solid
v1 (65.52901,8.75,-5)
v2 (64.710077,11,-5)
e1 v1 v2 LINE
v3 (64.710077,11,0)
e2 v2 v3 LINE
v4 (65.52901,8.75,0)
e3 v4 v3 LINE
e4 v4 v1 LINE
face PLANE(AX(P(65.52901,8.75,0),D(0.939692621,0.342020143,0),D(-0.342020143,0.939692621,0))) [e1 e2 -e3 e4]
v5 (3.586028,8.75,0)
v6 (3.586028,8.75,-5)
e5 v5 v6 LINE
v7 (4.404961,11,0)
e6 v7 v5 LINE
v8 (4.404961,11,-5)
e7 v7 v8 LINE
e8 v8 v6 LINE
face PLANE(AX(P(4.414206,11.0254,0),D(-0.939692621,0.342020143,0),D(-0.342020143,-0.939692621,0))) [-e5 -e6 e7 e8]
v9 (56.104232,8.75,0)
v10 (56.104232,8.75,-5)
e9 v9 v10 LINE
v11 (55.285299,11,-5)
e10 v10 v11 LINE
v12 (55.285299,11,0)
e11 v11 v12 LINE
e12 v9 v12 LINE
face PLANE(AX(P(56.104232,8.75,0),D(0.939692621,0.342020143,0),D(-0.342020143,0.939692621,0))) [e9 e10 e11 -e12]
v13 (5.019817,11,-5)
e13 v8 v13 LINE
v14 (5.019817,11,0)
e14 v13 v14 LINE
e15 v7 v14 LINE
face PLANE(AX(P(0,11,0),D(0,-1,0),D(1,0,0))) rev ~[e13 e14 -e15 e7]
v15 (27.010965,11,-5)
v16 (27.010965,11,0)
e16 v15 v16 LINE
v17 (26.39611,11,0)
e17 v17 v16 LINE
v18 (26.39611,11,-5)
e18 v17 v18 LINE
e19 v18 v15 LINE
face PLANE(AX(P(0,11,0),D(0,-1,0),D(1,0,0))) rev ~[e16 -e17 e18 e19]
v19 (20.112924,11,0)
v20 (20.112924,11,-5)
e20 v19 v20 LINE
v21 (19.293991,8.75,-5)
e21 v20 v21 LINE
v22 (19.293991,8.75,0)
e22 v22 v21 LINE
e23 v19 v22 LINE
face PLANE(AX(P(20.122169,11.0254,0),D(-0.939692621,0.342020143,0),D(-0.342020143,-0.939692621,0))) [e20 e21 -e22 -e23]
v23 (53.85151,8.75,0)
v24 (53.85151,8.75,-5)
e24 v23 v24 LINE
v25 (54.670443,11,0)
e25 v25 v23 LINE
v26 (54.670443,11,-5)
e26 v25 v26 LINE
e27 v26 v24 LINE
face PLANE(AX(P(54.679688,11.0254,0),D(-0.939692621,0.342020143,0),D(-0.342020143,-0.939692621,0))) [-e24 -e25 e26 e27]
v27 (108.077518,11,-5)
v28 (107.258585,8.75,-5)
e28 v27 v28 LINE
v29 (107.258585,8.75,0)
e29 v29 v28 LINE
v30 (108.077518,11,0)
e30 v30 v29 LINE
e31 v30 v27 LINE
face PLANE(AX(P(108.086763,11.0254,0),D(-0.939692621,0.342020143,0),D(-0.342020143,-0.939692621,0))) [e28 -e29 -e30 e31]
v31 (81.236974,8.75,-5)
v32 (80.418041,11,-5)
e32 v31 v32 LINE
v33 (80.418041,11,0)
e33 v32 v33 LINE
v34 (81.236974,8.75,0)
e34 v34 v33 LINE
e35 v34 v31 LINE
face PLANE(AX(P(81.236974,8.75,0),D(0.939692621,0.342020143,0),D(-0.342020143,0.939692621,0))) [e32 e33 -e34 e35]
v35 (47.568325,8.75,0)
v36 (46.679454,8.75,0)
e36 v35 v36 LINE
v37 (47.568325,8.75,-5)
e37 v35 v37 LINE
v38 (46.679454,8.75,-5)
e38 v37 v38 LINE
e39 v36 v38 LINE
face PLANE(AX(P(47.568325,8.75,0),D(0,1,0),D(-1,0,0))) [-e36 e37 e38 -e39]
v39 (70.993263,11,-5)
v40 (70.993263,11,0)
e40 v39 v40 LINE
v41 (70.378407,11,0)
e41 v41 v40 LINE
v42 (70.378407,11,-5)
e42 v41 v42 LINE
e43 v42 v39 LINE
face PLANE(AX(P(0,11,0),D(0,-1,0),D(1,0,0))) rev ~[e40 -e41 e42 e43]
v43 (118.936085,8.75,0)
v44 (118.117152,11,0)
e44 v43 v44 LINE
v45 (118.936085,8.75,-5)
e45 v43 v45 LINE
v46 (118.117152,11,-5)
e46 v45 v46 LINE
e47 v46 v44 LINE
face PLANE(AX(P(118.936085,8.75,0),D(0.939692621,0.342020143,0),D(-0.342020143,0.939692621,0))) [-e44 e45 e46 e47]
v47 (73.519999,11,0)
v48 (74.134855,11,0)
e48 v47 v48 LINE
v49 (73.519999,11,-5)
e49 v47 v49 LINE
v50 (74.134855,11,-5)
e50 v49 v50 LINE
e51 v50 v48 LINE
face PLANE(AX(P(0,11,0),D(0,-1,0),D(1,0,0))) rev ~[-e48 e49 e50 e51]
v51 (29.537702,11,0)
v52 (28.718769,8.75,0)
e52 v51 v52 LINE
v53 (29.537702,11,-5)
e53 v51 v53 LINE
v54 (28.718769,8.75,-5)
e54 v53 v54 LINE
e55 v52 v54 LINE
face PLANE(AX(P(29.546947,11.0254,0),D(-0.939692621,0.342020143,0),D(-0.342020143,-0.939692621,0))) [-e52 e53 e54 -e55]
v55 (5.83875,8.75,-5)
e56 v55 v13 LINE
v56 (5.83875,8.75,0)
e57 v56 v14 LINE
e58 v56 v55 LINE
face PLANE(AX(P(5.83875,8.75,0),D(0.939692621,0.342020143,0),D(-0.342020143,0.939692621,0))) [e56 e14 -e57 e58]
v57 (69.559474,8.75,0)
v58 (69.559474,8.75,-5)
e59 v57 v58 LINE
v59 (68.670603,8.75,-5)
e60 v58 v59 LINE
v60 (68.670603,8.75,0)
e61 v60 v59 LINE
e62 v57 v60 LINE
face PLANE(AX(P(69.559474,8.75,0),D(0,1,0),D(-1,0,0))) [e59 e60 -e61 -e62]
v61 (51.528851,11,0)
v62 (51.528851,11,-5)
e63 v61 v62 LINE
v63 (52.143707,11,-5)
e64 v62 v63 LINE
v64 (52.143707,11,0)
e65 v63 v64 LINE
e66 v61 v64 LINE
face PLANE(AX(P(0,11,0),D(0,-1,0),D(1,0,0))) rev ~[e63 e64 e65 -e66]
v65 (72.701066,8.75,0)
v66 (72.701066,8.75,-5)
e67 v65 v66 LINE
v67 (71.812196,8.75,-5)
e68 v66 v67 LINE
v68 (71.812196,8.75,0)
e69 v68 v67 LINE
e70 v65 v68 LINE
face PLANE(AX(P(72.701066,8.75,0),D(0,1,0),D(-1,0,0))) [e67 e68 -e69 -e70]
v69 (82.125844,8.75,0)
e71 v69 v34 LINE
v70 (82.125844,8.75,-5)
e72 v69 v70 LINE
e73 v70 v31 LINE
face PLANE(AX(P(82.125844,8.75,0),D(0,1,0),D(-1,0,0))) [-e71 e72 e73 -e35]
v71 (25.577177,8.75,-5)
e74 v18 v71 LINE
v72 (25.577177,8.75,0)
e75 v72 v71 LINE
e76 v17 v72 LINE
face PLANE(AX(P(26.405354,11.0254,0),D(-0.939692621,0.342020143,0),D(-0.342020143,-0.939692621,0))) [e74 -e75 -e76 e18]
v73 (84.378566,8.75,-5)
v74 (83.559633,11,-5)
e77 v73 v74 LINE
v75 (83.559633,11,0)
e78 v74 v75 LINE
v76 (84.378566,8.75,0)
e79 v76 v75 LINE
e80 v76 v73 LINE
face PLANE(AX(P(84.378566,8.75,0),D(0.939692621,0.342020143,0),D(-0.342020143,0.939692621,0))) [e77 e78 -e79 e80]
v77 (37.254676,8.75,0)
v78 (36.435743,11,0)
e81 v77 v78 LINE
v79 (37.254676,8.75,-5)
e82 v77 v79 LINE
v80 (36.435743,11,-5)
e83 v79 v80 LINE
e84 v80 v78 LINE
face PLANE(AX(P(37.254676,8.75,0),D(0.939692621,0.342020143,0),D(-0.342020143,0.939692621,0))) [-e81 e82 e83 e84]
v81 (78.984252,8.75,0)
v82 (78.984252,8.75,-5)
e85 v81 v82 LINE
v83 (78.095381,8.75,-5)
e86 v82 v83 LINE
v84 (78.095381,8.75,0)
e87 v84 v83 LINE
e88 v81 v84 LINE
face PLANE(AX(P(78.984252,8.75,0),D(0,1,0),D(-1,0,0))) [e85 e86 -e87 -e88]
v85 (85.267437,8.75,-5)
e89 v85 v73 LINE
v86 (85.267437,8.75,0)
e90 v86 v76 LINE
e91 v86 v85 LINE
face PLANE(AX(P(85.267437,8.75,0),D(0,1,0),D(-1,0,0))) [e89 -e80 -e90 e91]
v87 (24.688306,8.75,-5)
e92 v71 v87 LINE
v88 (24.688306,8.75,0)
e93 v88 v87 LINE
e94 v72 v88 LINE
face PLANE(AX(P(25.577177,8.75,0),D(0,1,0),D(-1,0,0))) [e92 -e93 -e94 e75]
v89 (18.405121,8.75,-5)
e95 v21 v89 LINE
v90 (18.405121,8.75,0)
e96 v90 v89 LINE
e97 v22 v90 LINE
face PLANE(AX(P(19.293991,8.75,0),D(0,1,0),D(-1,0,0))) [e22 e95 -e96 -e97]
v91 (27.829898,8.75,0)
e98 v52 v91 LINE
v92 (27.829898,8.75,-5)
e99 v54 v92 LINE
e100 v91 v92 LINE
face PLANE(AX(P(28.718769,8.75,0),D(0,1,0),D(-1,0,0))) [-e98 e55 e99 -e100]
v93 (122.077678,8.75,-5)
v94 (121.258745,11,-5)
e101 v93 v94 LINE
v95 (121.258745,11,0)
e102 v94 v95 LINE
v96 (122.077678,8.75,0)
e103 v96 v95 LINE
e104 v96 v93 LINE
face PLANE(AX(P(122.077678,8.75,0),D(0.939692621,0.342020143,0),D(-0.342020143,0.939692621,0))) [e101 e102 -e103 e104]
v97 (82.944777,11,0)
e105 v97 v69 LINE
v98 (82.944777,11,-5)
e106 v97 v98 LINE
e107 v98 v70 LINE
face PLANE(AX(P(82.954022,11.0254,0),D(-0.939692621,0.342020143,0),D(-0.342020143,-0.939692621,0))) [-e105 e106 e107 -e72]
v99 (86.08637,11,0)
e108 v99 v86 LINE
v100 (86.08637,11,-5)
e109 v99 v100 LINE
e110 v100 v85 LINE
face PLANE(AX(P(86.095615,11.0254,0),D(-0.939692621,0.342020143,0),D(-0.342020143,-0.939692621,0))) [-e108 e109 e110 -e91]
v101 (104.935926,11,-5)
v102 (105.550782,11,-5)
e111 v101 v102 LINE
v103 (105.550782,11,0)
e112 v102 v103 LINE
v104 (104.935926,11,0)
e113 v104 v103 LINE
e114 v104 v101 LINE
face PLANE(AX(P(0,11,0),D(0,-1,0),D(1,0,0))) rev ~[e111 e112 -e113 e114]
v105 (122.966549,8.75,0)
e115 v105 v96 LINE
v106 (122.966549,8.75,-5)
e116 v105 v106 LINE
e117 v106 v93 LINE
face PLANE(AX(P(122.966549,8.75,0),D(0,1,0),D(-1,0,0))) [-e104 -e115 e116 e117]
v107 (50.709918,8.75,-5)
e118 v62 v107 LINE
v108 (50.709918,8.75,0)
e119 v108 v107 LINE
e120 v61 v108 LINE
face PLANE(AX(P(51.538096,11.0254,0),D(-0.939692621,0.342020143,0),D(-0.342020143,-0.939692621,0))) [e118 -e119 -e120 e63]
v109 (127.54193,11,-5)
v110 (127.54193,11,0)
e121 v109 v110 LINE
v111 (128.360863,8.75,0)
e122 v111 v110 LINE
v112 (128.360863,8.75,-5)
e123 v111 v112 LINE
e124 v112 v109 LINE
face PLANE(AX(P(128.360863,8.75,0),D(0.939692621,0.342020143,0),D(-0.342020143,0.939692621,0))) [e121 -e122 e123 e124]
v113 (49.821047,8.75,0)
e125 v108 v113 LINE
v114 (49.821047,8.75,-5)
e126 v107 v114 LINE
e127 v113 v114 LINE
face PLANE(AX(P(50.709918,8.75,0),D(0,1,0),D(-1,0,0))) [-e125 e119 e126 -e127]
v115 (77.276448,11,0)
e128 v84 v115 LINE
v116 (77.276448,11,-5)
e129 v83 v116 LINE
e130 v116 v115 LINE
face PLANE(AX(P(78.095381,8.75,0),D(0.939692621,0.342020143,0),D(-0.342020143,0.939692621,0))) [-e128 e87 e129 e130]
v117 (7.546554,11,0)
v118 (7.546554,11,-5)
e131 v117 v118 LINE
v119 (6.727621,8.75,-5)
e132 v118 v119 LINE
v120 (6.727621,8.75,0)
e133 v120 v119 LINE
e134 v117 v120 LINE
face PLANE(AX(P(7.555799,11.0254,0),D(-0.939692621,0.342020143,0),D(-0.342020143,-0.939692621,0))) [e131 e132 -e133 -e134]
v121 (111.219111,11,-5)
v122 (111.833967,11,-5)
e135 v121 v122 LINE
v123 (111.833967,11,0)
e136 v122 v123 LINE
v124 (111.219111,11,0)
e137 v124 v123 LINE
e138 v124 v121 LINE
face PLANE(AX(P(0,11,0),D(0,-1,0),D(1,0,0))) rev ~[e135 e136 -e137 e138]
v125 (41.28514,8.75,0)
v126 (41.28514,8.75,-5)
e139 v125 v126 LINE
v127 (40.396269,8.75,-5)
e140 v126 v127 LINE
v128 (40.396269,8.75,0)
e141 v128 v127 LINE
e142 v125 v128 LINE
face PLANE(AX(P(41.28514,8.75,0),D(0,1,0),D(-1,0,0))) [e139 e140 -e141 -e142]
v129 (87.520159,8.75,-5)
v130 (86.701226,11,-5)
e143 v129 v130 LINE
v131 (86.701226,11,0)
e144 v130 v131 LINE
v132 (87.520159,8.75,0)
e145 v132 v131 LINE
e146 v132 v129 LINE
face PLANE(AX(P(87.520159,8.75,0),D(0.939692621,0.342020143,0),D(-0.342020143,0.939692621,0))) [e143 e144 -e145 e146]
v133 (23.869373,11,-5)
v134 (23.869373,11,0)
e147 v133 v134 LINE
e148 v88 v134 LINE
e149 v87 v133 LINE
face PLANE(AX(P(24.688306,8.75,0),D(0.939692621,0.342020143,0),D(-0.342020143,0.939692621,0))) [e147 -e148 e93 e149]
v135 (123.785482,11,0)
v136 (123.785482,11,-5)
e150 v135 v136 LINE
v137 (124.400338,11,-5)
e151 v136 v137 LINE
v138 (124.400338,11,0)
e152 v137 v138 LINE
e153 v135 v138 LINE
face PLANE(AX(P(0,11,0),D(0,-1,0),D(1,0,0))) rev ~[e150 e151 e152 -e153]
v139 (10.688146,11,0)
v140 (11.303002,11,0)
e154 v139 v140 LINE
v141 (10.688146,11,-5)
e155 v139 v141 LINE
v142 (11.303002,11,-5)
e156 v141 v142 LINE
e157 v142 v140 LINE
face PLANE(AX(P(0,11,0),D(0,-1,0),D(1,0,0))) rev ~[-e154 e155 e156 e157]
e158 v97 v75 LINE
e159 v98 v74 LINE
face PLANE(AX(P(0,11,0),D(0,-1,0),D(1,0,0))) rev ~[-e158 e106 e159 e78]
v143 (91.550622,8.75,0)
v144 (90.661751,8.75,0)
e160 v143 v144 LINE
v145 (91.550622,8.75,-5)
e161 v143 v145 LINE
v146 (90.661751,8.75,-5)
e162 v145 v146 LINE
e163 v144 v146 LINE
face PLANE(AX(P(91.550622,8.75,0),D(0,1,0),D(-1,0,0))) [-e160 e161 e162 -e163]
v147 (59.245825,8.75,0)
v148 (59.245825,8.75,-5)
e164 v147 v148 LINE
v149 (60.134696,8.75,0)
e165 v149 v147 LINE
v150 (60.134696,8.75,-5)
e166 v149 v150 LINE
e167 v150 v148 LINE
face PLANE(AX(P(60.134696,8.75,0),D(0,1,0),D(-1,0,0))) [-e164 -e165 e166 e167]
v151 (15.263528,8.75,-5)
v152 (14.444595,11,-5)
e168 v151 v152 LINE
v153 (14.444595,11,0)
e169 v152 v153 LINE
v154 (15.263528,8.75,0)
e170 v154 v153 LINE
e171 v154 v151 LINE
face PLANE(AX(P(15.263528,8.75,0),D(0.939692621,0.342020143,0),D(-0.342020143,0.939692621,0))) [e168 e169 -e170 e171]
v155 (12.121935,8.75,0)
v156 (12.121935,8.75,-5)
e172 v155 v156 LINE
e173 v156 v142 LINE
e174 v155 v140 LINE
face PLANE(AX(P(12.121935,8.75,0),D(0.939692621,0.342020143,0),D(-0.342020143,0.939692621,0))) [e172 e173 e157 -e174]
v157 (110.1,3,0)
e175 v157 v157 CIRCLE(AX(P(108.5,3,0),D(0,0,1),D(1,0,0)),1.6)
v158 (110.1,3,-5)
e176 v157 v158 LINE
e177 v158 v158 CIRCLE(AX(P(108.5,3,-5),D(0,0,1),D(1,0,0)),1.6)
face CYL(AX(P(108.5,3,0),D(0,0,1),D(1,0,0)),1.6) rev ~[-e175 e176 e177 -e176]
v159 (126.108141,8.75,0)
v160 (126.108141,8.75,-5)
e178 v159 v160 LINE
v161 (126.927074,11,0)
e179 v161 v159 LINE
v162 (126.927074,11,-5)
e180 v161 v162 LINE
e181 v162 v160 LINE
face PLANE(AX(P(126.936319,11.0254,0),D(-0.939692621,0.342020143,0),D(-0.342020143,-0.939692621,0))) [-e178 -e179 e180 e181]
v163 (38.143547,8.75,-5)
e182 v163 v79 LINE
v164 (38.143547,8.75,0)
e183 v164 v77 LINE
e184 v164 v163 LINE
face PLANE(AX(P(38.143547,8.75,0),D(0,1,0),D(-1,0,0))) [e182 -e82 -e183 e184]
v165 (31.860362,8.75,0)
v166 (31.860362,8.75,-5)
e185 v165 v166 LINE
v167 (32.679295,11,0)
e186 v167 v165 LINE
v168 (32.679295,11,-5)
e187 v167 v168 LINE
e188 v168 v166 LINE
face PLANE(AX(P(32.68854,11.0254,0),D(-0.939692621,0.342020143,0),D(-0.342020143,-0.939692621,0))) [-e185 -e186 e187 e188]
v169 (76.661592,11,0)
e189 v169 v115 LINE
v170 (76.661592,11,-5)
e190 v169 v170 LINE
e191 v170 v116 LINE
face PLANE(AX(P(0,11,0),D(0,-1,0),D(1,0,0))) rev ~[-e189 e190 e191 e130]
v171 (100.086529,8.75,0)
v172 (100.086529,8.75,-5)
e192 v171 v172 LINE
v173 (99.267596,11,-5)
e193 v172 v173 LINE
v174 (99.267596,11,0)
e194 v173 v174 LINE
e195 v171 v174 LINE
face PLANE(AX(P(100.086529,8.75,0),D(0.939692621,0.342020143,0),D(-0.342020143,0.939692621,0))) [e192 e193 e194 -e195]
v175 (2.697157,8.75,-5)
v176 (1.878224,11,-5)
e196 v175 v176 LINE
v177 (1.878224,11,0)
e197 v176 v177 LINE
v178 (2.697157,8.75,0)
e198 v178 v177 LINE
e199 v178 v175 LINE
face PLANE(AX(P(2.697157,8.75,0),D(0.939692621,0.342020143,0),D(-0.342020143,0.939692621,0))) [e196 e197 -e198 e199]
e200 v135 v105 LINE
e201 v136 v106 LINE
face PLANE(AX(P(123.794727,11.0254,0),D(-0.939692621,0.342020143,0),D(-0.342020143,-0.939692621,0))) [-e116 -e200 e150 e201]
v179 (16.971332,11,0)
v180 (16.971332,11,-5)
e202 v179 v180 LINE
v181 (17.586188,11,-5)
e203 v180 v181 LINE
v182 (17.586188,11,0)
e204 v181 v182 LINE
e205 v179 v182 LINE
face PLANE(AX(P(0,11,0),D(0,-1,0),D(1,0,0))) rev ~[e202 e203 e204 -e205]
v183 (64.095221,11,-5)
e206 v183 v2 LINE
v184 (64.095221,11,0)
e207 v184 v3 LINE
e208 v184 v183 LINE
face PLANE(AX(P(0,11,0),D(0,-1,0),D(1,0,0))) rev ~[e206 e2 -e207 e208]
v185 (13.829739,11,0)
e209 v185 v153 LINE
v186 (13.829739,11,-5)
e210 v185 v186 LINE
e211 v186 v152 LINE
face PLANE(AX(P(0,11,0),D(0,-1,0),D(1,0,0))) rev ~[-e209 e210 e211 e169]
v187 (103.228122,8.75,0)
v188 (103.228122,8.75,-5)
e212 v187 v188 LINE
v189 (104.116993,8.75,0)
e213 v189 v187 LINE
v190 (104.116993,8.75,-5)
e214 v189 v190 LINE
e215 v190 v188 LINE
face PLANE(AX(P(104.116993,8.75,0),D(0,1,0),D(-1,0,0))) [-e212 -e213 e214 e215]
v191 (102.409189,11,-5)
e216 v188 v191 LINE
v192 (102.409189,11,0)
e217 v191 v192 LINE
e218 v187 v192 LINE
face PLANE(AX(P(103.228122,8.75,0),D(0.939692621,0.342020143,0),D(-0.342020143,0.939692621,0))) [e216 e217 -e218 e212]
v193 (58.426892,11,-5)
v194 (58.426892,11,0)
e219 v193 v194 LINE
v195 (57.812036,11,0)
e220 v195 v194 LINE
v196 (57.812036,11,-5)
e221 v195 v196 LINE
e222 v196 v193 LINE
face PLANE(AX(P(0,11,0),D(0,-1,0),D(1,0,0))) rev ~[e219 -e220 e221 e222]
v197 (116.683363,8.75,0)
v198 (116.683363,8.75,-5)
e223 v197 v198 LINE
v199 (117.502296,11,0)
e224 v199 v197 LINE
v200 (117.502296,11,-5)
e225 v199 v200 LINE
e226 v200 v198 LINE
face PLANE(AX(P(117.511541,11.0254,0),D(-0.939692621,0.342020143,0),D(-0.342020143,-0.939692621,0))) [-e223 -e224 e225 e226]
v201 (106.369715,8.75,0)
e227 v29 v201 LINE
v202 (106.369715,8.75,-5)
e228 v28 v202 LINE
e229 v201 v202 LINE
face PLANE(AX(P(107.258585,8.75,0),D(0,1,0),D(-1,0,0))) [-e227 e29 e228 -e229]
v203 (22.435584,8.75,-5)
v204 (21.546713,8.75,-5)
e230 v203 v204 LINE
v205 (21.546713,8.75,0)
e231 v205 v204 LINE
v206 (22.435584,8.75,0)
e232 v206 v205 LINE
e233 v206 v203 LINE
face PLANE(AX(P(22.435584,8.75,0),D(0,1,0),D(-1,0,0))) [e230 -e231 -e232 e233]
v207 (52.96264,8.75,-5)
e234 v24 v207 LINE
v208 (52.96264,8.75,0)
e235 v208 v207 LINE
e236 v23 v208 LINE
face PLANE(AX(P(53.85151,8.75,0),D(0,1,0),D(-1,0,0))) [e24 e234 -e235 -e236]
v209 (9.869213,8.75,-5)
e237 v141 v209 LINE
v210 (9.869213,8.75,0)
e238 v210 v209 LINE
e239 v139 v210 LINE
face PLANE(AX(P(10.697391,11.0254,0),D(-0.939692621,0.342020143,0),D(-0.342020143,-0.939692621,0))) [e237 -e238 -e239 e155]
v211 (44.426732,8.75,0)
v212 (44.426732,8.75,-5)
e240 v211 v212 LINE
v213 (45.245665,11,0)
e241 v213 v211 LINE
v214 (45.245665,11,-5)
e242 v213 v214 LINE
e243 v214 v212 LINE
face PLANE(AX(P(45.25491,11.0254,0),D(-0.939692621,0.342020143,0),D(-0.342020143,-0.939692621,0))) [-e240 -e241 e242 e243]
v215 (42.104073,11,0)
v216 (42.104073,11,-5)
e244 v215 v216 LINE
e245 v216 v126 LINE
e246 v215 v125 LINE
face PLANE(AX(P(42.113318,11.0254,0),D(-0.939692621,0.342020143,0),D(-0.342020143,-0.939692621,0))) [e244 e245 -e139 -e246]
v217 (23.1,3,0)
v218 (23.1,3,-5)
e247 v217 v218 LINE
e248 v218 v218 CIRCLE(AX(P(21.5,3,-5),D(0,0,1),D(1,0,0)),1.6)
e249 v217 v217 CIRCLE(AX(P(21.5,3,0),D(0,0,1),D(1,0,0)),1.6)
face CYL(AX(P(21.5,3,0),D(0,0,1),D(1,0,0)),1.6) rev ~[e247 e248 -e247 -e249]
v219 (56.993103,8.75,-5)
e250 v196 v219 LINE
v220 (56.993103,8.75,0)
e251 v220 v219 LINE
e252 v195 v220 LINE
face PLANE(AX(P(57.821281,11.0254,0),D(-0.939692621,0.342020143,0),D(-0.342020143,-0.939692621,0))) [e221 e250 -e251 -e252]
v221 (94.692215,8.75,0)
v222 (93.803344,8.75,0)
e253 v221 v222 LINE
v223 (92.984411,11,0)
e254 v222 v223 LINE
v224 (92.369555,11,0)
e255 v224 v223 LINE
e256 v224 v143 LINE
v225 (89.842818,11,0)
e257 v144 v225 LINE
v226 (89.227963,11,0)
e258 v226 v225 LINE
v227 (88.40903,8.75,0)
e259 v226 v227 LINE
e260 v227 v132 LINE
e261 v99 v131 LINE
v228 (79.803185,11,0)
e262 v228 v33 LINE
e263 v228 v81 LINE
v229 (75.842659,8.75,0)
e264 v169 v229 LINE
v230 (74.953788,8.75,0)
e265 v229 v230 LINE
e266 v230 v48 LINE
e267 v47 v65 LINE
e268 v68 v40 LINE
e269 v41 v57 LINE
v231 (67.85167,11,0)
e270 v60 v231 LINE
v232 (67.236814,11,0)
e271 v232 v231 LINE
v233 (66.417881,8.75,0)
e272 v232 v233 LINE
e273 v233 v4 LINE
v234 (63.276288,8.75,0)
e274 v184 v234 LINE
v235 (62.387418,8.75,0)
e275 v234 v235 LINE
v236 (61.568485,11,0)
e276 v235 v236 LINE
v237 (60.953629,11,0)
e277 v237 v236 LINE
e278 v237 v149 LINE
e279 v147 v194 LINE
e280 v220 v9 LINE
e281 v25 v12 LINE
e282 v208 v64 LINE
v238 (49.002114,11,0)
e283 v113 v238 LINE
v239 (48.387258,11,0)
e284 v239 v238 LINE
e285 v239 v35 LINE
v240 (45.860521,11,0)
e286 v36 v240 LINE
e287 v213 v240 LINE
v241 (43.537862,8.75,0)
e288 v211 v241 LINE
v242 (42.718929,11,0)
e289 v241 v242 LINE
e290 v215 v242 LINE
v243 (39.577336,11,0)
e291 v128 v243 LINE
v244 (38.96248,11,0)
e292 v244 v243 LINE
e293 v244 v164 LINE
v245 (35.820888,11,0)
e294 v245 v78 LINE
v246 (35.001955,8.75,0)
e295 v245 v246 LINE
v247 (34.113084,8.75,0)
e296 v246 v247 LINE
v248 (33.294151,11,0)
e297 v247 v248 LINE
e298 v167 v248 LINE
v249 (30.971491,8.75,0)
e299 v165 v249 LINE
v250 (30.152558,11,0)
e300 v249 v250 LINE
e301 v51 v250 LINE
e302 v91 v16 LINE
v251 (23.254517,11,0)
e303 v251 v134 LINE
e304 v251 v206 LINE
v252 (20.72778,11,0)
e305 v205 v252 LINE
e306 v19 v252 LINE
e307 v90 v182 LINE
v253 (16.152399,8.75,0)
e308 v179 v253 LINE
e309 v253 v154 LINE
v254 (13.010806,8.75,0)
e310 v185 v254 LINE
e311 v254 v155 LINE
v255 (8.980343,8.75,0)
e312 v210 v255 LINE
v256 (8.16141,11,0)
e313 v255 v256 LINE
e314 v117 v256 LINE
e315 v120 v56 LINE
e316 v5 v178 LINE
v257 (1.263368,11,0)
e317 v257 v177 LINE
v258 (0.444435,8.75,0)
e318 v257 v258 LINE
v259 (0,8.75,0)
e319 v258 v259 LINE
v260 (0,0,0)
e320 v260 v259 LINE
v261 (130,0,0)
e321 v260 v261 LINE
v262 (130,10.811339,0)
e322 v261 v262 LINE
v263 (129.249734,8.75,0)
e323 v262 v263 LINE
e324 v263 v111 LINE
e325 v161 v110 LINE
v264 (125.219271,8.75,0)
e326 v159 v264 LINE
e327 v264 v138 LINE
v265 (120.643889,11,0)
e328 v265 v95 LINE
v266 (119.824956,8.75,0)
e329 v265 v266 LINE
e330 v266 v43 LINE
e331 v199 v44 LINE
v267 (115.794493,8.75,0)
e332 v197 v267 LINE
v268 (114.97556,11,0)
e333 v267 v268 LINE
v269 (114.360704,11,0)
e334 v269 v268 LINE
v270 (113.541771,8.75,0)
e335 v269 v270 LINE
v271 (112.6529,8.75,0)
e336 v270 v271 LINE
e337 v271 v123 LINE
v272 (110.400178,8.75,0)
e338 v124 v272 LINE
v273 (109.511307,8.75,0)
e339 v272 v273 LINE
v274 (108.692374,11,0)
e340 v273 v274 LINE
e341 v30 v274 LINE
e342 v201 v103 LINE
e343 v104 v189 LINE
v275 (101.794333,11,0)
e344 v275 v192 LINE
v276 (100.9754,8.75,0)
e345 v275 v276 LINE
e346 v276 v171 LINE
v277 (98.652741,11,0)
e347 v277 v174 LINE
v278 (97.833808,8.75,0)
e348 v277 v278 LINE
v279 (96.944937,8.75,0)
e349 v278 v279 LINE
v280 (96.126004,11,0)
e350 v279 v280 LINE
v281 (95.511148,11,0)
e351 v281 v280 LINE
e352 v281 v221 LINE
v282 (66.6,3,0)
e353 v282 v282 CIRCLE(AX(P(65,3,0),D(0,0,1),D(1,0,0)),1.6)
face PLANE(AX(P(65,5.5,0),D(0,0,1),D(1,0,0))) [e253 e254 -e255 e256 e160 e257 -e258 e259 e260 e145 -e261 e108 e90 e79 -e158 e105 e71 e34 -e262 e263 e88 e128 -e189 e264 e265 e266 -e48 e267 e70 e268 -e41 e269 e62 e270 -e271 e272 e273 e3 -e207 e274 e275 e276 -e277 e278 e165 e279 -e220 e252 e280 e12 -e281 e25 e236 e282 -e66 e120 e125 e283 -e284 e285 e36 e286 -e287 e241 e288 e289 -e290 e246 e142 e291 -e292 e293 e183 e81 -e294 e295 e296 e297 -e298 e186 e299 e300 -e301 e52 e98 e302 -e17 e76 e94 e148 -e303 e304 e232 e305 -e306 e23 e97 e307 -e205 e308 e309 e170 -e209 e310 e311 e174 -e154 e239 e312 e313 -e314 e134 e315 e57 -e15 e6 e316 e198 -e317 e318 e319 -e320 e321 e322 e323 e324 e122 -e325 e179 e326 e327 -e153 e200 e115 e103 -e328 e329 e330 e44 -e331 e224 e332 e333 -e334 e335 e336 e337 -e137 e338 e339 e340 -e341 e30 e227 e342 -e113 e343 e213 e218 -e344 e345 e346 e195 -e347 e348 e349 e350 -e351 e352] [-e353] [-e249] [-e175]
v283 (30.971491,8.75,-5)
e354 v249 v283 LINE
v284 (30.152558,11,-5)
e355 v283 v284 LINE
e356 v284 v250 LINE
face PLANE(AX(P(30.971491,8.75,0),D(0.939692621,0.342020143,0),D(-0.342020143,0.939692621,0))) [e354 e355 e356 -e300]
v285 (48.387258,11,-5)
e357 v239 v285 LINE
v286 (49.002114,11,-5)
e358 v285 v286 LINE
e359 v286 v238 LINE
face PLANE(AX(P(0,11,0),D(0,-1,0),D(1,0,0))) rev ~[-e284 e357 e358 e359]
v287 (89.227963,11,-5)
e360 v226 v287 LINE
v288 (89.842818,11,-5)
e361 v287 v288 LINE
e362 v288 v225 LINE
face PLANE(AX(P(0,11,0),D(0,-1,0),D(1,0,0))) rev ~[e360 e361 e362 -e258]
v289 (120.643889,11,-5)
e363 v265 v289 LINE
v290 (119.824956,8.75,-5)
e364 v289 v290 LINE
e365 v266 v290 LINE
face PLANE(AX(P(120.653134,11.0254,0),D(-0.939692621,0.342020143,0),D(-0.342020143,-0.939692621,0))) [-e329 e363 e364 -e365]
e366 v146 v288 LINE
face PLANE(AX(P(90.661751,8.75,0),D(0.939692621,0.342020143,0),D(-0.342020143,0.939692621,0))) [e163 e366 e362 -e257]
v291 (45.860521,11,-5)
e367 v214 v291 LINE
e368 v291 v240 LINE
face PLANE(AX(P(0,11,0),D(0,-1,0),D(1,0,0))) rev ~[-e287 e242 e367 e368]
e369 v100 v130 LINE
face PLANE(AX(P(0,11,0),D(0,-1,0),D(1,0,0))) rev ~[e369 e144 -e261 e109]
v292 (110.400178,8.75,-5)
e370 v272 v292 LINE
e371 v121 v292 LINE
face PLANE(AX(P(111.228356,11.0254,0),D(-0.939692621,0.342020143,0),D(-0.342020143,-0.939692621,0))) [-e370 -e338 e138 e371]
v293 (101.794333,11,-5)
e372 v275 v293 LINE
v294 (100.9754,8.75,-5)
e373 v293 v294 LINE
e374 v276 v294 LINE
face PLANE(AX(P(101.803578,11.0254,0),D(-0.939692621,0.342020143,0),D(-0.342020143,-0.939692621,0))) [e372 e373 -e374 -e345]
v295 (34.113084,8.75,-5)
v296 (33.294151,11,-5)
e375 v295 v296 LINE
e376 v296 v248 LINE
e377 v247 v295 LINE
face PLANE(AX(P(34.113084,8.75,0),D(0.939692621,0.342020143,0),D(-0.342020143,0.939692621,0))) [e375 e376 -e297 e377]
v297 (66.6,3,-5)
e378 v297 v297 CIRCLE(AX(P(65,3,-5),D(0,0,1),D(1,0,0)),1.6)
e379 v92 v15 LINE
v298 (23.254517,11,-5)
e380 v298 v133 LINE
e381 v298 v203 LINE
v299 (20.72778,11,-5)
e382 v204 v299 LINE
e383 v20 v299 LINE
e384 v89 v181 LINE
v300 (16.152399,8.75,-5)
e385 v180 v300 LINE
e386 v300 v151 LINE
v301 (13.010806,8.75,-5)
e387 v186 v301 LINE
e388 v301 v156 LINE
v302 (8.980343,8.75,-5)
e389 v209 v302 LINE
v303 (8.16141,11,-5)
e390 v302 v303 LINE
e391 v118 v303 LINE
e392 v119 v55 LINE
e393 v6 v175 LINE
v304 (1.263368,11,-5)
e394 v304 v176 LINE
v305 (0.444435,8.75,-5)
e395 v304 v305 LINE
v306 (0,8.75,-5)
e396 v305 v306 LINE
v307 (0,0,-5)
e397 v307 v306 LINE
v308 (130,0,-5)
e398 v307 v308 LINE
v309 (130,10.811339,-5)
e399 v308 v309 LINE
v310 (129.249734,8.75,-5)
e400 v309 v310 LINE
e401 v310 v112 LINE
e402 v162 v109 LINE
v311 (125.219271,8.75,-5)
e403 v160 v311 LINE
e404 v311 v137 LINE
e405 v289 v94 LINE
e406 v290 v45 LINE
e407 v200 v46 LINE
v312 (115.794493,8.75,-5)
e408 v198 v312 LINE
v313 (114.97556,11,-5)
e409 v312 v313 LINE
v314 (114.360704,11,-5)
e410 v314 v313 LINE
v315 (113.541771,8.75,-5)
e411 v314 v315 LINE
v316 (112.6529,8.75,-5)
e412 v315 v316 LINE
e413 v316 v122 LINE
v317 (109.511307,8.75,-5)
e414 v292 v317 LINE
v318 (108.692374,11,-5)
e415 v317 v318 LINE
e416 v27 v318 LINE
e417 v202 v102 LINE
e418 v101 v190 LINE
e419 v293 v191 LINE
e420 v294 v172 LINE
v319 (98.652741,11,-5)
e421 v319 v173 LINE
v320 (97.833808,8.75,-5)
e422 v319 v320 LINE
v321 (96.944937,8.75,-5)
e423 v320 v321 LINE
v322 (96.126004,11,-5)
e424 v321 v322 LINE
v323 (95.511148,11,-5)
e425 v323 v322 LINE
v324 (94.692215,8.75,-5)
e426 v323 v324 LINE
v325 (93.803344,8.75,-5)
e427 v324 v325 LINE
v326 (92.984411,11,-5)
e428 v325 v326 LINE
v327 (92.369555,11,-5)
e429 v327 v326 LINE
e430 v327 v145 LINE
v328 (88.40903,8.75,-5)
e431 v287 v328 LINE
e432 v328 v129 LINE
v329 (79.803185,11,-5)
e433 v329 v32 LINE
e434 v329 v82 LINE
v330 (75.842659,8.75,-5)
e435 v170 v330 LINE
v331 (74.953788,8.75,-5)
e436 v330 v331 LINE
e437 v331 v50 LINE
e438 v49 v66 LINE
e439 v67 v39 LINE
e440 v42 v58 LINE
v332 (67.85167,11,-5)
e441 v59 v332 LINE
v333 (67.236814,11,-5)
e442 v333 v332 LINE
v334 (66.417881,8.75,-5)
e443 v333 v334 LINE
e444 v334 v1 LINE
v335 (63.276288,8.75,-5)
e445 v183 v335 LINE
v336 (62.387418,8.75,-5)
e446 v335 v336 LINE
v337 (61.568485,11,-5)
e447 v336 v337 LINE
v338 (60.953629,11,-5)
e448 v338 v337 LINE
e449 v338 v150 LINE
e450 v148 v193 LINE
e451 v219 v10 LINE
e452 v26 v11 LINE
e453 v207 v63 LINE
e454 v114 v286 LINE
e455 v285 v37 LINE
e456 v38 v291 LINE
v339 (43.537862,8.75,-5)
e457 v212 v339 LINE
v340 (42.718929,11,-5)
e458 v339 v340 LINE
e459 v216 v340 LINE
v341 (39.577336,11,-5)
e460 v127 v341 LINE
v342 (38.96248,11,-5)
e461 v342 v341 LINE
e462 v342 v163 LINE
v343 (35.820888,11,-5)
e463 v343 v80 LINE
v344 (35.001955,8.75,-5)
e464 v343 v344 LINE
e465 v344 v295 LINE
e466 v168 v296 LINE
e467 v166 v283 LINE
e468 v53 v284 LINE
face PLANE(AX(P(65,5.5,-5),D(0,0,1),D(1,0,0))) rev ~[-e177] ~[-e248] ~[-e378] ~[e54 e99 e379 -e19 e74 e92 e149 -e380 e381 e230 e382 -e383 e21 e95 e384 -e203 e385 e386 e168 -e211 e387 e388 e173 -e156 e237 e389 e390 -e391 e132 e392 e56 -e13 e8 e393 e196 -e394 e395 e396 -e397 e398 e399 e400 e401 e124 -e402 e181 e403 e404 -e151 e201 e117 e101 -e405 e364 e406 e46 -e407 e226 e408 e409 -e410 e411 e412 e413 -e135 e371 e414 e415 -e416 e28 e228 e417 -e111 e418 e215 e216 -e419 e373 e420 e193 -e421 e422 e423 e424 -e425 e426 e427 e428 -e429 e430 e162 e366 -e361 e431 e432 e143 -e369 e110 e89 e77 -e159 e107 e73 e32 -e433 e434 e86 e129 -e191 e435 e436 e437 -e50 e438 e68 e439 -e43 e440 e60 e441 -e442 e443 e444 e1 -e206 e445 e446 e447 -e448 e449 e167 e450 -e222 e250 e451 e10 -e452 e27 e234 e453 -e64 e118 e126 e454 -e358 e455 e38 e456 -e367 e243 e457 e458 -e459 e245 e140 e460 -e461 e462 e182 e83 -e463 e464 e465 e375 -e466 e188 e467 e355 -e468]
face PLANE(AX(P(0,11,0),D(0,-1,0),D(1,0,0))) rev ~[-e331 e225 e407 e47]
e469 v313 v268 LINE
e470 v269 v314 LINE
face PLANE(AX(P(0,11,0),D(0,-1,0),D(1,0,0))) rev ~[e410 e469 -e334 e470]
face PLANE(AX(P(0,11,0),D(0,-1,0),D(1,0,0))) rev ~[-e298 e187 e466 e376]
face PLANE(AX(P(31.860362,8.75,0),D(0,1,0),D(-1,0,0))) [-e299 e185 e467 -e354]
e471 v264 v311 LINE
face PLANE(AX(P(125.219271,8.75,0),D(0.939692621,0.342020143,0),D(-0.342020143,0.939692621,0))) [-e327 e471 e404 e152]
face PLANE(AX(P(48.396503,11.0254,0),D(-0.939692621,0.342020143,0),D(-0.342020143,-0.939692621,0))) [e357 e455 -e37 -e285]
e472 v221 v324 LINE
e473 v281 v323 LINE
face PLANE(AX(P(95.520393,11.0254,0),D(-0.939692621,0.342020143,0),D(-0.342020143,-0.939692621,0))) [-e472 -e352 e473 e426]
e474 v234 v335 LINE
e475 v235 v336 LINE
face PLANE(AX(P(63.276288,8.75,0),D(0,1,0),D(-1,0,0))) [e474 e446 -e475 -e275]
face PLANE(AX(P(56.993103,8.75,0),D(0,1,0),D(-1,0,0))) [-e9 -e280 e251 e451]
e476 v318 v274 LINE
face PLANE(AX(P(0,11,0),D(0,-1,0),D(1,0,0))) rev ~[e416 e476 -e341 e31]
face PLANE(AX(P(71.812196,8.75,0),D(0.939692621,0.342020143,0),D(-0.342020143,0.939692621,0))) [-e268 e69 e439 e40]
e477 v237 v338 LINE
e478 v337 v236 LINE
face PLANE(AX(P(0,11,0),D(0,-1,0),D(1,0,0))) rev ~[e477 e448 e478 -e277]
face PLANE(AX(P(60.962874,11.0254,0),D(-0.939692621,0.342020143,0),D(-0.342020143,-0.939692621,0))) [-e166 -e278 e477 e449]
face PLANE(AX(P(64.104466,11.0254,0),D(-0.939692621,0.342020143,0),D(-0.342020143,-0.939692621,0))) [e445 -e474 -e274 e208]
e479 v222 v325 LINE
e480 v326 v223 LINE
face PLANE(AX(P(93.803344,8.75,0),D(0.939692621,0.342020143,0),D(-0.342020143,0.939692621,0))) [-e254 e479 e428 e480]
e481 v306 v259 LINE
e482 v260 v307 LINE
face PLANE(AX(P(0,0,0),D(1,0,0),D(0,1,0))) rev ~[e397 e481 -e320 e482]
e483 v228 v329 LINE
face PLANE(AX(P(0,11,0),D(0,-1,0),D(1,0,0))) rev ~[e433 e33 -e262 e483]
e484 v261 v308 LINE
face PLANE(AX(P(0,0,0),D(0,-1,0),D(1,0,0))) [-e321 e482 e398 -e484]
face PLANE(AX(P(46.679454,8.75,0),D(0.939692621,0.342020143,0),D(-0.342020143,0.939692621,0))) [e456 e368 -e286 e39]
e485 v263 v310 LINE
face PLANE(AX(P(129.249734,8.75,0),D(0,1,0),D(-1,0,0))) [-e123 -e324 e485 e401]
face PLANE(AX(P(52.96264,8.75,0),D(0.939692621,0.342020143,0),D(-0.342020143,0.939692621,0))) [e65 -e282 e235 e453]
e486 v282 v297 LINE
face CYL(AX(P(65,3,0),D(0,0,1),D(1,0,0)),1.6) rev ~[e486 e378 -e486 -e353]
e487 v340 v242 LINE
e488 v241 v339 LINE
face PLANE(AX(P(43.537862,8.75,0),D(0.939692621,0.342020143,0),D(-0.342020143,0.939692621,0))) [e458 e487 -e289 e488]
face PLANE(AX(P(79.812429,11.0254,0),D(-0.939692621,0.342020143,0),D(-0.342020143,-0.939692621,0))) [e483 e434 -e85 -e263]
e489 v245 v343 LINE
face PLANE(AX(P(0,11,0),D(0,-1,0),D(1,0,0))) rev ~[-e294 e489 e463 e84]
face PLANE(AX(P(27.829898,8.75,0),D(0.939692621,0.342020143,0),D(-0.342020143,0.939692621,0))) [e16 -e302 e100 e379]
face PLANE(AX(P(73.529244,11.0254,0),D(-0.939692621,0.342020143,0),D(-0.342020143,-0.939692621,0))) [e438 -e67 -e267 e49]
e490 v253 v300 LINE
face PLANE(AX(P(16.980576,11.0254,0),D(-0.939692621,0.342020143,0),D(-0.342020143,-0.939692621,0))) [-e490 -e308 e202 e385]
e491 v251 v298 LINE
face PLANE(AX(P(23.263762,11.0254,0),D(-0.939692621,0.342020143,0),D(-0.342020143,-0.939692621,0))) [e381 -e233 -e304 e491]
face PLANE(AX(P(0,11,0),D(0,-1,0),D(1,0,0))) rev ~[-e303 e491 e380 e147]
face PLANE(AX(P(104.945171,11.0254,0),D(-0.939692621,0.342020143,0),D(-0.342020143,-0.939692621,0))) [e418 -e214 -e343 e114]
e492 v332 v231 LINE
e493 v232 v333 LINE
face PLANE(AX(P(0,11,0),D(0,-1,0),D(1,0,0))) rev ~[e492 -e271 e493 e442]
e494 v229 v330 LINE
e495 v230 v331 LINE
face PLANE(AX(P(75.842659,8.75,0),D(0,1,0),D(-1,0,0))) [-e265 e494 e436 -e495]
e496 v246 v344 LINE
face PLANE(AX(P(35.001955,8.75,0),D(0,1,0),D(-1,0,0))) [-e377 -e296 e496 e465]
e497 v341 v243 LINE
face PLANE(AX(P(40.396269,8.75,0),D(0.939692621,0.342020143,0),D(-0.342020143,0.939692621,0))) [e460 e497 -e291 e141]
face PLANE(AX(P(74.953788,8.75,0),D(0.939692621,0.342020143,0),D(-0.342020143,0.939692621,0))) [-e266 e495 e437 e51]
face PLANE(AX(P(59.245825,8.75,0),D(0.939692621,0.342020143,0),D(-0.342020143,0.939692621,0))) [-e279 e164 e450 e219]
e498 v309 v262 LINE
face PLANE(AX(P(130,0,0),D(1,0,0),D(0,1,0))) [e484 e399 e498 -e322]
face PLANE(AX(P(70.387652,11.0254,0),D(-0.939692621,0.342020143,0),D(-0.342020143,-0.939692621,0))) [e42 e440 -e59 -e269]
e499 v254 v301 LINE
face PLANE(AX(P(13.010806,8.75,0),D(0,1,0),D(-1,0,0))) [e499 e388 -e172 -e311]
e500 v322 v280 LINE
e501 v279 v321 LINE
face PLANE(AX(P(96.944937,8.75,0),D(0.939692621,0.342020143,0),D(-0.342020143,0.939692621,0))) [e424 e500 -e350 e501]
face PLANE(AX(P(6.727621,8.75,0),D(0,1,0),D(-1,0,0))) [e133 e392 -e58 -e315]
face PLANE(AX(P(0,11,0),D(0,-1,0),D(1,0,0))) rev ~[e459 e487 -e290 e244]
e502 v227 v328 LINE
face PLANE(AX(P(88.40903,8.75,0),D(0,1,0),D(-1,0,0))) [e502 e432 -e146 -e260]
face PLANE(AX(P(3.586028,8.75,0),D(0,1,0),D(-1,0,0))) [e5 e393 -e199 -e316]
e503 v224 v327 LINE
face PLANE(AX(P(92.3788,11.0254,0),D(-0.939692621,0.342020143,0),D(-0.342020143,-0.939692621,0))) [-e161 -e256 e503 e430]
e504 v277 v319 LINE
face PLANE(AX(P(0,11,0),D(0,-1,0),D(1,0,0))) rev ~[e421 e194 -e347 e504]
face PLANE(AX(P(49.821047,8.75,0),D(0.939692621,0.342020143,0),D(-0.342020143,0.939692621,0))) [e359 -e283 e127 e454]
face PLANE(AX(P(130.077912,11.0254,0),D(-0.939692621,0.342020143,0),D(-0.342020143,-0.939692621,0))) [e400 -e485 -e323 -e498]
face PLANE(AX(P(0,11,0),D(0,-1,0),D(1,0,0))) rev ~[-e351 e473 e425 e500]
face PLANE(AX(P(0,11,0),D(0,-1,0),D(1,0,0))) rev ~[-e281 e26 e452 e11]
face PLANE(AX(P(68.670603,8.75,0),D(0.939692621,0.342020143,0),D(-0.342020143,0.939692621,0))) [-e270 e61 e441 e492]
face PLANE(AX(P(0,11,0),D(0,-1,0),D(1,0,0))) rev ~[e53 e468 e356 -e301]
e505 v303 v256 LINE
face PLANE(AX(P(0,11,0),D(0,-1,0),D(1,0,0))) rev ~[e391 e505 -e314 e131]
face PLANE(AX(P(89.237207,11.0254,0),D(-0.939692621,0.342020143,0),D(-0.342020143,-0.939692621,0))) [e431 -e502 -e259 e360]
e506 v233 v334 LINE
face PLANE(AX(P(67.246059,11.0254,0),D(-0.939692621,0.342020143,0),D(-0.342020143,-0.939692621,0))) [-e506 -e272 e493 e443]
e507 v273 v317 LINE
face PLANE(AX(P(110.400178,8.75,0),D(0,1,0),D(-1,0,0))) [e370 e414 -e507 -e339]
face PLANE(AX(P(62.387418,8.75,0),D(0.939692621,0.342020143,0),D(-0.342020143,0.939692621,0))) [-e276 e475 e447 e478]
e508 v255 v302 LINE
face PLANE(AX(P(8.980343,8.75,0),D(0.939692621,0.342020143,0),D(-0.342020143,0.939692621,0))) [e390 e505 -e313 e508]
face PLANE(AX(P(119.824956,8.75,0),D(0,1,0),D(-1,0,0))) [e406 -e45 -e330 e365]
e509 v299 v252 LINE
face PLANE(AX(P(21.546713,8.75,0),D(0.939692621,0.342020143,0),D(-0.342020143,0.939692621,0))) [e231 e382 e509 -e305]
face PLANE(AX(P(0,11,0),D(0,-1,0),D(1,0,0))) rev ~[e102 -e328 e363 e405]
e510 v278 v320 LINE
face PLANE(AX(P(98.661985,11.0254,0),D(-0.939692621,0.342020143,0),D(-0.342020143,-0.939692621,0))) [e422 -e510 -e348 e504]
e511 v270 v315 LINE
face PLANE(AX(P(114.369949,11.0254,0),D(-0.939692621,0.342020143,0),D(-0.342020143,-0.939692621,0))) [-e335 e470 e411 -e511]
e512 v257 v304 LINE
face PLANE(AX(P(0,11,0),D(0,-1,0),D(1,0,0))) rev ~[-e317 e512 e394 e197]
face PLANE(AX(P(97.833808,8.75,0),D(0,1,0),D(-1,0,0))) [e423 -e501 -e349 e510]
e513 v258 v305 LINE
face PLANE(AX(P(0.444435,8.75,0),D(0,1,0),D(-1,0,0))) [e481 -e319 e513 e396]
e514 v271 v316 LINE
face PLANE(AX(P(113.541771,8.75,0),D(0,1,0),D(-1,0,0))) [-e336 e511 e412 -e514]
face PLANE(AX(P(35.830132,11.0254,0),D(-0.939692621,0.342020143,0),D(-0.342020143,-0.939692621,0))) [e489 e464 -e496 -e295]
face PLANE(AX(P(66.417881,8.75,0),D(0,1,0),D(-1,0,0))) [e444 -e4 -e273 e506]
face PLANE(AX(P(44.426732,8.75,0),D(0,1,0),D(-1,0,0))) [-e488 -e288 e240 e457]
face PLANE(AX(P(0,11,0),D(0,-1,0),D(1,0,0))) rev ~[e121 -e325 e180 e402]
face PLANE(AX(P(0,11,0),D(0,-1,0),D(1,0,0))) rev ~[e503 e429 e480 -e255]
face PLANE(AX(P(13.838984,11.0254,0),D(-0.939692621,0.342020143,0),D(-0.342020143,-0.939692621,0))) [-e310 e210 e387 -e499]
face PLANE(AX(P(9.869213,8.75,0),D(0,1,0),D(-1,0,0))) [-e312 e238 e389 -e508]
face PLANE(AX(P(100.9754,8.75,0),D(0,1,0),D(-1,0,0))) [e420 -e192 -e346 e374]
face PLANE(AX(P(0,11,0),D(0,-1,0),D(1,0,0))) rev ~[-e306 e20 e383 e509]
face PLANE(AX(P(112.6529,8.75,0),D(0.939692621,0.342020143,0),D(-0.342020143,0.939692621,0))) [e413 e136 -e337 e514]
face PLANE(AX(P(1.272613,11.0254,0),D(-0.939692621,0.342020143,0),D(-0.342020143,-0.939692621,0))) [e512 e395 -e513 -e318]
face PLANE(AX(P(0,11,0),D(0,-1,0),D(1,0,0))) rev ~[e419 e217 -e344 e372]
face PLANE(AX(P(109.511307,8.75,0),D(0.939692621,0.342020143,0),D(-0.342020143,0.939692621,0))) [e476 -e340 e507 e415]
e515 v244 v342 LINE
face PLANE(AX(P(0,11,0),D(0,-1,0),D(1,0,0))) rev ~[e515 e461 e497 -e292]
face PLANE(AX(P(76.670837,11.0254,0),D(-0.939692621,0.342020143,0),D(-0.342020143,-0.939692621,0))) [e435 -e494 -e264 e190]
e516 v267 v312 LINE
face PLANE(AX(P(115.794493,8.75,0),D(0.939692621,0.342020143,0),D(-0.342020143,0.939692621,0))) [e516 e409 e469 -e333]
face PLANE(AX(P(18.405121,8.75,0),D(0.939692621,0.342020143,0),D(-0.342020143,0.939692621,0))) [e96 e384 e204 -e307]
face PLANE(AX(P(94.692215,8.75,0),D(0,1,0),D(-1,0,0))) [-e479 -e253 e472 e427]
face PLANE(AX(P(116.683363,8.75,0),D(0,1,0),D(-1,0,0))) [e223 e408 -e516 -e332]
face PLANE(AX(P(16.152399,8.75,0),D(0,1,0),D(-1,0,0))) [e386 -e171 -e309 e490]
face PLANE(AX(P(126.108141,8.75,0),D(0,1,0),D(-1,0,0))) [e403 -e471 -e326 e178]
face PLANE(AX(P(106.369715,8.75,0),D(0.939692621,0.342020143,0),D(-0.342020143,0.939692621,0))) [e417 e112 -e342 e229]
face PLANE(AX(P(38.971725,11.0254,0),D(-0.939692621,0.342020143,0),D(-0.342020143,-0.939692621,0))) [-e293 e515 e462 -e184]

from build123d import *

# Parameters (mm, degrees)
BLANKSKE_W              = 130
BLANKSKE_H              = 11
BLANK_DEPTH             = 5
TOOTHCUTSIM_DEPTH       = 131.560330882
TEETHCUTS_COUNT         = 42
TEETHCUTS_PITCH         = 3.14159265
ESQUISSE1_R             = 1.6
ENL_V_MAT_EXTRU_1_DEPTH = 10


with BuildPart() as part:
    # BlankSke → Blank (new body)
    with BuildSketch(Plane.XY):
        with Locations((65, 5.5)):
            Rectangle(BLANKSKE_W, BLANKSKE_H)
    extrude(amount=-BLANK_DEPTH)

    # TooCutSkeSim → ToothCutSim (cut, through all)
    with BuildSketch(Plane.XY):
        Polygon((0.44443537, 8.75), (-0.44443537, 8.75), (-1.272613241, 11.0254), (1.272613241, 11.0254), align=None)
    toothcutsim = extrude(amount=-TOOTHCUTSIM_DEPTH, mode=Mode.SUBTRACT)

    # TeethCuts: ToothCutSim ×42
    with Locations(*[(i * TEETHCUTS_PITCH, 0, 0) for i in range(1, TEETHCUTS_COUNT)]):
        add(toothcutsim, mode=Mode.SUBTRACT)

    # Esquisse1 → Enlèv. mat.-Extru.1 (cut)
    with BuildSketch(Plane.XY):
        with Locations((21.5, 3)):
            Circle(ESQUISSE1_R)
        with Locations((65, 3)):
            Circle(ESQUISSE1_R)
        with Locations((108.5, 3)):
            Circle(ESQUISSE1_R)
    extrude(amount=-ENL_V_MAT_EXTRU_1_DEPTH, mode=Mode.SUBTRACT)


solid = part.part
